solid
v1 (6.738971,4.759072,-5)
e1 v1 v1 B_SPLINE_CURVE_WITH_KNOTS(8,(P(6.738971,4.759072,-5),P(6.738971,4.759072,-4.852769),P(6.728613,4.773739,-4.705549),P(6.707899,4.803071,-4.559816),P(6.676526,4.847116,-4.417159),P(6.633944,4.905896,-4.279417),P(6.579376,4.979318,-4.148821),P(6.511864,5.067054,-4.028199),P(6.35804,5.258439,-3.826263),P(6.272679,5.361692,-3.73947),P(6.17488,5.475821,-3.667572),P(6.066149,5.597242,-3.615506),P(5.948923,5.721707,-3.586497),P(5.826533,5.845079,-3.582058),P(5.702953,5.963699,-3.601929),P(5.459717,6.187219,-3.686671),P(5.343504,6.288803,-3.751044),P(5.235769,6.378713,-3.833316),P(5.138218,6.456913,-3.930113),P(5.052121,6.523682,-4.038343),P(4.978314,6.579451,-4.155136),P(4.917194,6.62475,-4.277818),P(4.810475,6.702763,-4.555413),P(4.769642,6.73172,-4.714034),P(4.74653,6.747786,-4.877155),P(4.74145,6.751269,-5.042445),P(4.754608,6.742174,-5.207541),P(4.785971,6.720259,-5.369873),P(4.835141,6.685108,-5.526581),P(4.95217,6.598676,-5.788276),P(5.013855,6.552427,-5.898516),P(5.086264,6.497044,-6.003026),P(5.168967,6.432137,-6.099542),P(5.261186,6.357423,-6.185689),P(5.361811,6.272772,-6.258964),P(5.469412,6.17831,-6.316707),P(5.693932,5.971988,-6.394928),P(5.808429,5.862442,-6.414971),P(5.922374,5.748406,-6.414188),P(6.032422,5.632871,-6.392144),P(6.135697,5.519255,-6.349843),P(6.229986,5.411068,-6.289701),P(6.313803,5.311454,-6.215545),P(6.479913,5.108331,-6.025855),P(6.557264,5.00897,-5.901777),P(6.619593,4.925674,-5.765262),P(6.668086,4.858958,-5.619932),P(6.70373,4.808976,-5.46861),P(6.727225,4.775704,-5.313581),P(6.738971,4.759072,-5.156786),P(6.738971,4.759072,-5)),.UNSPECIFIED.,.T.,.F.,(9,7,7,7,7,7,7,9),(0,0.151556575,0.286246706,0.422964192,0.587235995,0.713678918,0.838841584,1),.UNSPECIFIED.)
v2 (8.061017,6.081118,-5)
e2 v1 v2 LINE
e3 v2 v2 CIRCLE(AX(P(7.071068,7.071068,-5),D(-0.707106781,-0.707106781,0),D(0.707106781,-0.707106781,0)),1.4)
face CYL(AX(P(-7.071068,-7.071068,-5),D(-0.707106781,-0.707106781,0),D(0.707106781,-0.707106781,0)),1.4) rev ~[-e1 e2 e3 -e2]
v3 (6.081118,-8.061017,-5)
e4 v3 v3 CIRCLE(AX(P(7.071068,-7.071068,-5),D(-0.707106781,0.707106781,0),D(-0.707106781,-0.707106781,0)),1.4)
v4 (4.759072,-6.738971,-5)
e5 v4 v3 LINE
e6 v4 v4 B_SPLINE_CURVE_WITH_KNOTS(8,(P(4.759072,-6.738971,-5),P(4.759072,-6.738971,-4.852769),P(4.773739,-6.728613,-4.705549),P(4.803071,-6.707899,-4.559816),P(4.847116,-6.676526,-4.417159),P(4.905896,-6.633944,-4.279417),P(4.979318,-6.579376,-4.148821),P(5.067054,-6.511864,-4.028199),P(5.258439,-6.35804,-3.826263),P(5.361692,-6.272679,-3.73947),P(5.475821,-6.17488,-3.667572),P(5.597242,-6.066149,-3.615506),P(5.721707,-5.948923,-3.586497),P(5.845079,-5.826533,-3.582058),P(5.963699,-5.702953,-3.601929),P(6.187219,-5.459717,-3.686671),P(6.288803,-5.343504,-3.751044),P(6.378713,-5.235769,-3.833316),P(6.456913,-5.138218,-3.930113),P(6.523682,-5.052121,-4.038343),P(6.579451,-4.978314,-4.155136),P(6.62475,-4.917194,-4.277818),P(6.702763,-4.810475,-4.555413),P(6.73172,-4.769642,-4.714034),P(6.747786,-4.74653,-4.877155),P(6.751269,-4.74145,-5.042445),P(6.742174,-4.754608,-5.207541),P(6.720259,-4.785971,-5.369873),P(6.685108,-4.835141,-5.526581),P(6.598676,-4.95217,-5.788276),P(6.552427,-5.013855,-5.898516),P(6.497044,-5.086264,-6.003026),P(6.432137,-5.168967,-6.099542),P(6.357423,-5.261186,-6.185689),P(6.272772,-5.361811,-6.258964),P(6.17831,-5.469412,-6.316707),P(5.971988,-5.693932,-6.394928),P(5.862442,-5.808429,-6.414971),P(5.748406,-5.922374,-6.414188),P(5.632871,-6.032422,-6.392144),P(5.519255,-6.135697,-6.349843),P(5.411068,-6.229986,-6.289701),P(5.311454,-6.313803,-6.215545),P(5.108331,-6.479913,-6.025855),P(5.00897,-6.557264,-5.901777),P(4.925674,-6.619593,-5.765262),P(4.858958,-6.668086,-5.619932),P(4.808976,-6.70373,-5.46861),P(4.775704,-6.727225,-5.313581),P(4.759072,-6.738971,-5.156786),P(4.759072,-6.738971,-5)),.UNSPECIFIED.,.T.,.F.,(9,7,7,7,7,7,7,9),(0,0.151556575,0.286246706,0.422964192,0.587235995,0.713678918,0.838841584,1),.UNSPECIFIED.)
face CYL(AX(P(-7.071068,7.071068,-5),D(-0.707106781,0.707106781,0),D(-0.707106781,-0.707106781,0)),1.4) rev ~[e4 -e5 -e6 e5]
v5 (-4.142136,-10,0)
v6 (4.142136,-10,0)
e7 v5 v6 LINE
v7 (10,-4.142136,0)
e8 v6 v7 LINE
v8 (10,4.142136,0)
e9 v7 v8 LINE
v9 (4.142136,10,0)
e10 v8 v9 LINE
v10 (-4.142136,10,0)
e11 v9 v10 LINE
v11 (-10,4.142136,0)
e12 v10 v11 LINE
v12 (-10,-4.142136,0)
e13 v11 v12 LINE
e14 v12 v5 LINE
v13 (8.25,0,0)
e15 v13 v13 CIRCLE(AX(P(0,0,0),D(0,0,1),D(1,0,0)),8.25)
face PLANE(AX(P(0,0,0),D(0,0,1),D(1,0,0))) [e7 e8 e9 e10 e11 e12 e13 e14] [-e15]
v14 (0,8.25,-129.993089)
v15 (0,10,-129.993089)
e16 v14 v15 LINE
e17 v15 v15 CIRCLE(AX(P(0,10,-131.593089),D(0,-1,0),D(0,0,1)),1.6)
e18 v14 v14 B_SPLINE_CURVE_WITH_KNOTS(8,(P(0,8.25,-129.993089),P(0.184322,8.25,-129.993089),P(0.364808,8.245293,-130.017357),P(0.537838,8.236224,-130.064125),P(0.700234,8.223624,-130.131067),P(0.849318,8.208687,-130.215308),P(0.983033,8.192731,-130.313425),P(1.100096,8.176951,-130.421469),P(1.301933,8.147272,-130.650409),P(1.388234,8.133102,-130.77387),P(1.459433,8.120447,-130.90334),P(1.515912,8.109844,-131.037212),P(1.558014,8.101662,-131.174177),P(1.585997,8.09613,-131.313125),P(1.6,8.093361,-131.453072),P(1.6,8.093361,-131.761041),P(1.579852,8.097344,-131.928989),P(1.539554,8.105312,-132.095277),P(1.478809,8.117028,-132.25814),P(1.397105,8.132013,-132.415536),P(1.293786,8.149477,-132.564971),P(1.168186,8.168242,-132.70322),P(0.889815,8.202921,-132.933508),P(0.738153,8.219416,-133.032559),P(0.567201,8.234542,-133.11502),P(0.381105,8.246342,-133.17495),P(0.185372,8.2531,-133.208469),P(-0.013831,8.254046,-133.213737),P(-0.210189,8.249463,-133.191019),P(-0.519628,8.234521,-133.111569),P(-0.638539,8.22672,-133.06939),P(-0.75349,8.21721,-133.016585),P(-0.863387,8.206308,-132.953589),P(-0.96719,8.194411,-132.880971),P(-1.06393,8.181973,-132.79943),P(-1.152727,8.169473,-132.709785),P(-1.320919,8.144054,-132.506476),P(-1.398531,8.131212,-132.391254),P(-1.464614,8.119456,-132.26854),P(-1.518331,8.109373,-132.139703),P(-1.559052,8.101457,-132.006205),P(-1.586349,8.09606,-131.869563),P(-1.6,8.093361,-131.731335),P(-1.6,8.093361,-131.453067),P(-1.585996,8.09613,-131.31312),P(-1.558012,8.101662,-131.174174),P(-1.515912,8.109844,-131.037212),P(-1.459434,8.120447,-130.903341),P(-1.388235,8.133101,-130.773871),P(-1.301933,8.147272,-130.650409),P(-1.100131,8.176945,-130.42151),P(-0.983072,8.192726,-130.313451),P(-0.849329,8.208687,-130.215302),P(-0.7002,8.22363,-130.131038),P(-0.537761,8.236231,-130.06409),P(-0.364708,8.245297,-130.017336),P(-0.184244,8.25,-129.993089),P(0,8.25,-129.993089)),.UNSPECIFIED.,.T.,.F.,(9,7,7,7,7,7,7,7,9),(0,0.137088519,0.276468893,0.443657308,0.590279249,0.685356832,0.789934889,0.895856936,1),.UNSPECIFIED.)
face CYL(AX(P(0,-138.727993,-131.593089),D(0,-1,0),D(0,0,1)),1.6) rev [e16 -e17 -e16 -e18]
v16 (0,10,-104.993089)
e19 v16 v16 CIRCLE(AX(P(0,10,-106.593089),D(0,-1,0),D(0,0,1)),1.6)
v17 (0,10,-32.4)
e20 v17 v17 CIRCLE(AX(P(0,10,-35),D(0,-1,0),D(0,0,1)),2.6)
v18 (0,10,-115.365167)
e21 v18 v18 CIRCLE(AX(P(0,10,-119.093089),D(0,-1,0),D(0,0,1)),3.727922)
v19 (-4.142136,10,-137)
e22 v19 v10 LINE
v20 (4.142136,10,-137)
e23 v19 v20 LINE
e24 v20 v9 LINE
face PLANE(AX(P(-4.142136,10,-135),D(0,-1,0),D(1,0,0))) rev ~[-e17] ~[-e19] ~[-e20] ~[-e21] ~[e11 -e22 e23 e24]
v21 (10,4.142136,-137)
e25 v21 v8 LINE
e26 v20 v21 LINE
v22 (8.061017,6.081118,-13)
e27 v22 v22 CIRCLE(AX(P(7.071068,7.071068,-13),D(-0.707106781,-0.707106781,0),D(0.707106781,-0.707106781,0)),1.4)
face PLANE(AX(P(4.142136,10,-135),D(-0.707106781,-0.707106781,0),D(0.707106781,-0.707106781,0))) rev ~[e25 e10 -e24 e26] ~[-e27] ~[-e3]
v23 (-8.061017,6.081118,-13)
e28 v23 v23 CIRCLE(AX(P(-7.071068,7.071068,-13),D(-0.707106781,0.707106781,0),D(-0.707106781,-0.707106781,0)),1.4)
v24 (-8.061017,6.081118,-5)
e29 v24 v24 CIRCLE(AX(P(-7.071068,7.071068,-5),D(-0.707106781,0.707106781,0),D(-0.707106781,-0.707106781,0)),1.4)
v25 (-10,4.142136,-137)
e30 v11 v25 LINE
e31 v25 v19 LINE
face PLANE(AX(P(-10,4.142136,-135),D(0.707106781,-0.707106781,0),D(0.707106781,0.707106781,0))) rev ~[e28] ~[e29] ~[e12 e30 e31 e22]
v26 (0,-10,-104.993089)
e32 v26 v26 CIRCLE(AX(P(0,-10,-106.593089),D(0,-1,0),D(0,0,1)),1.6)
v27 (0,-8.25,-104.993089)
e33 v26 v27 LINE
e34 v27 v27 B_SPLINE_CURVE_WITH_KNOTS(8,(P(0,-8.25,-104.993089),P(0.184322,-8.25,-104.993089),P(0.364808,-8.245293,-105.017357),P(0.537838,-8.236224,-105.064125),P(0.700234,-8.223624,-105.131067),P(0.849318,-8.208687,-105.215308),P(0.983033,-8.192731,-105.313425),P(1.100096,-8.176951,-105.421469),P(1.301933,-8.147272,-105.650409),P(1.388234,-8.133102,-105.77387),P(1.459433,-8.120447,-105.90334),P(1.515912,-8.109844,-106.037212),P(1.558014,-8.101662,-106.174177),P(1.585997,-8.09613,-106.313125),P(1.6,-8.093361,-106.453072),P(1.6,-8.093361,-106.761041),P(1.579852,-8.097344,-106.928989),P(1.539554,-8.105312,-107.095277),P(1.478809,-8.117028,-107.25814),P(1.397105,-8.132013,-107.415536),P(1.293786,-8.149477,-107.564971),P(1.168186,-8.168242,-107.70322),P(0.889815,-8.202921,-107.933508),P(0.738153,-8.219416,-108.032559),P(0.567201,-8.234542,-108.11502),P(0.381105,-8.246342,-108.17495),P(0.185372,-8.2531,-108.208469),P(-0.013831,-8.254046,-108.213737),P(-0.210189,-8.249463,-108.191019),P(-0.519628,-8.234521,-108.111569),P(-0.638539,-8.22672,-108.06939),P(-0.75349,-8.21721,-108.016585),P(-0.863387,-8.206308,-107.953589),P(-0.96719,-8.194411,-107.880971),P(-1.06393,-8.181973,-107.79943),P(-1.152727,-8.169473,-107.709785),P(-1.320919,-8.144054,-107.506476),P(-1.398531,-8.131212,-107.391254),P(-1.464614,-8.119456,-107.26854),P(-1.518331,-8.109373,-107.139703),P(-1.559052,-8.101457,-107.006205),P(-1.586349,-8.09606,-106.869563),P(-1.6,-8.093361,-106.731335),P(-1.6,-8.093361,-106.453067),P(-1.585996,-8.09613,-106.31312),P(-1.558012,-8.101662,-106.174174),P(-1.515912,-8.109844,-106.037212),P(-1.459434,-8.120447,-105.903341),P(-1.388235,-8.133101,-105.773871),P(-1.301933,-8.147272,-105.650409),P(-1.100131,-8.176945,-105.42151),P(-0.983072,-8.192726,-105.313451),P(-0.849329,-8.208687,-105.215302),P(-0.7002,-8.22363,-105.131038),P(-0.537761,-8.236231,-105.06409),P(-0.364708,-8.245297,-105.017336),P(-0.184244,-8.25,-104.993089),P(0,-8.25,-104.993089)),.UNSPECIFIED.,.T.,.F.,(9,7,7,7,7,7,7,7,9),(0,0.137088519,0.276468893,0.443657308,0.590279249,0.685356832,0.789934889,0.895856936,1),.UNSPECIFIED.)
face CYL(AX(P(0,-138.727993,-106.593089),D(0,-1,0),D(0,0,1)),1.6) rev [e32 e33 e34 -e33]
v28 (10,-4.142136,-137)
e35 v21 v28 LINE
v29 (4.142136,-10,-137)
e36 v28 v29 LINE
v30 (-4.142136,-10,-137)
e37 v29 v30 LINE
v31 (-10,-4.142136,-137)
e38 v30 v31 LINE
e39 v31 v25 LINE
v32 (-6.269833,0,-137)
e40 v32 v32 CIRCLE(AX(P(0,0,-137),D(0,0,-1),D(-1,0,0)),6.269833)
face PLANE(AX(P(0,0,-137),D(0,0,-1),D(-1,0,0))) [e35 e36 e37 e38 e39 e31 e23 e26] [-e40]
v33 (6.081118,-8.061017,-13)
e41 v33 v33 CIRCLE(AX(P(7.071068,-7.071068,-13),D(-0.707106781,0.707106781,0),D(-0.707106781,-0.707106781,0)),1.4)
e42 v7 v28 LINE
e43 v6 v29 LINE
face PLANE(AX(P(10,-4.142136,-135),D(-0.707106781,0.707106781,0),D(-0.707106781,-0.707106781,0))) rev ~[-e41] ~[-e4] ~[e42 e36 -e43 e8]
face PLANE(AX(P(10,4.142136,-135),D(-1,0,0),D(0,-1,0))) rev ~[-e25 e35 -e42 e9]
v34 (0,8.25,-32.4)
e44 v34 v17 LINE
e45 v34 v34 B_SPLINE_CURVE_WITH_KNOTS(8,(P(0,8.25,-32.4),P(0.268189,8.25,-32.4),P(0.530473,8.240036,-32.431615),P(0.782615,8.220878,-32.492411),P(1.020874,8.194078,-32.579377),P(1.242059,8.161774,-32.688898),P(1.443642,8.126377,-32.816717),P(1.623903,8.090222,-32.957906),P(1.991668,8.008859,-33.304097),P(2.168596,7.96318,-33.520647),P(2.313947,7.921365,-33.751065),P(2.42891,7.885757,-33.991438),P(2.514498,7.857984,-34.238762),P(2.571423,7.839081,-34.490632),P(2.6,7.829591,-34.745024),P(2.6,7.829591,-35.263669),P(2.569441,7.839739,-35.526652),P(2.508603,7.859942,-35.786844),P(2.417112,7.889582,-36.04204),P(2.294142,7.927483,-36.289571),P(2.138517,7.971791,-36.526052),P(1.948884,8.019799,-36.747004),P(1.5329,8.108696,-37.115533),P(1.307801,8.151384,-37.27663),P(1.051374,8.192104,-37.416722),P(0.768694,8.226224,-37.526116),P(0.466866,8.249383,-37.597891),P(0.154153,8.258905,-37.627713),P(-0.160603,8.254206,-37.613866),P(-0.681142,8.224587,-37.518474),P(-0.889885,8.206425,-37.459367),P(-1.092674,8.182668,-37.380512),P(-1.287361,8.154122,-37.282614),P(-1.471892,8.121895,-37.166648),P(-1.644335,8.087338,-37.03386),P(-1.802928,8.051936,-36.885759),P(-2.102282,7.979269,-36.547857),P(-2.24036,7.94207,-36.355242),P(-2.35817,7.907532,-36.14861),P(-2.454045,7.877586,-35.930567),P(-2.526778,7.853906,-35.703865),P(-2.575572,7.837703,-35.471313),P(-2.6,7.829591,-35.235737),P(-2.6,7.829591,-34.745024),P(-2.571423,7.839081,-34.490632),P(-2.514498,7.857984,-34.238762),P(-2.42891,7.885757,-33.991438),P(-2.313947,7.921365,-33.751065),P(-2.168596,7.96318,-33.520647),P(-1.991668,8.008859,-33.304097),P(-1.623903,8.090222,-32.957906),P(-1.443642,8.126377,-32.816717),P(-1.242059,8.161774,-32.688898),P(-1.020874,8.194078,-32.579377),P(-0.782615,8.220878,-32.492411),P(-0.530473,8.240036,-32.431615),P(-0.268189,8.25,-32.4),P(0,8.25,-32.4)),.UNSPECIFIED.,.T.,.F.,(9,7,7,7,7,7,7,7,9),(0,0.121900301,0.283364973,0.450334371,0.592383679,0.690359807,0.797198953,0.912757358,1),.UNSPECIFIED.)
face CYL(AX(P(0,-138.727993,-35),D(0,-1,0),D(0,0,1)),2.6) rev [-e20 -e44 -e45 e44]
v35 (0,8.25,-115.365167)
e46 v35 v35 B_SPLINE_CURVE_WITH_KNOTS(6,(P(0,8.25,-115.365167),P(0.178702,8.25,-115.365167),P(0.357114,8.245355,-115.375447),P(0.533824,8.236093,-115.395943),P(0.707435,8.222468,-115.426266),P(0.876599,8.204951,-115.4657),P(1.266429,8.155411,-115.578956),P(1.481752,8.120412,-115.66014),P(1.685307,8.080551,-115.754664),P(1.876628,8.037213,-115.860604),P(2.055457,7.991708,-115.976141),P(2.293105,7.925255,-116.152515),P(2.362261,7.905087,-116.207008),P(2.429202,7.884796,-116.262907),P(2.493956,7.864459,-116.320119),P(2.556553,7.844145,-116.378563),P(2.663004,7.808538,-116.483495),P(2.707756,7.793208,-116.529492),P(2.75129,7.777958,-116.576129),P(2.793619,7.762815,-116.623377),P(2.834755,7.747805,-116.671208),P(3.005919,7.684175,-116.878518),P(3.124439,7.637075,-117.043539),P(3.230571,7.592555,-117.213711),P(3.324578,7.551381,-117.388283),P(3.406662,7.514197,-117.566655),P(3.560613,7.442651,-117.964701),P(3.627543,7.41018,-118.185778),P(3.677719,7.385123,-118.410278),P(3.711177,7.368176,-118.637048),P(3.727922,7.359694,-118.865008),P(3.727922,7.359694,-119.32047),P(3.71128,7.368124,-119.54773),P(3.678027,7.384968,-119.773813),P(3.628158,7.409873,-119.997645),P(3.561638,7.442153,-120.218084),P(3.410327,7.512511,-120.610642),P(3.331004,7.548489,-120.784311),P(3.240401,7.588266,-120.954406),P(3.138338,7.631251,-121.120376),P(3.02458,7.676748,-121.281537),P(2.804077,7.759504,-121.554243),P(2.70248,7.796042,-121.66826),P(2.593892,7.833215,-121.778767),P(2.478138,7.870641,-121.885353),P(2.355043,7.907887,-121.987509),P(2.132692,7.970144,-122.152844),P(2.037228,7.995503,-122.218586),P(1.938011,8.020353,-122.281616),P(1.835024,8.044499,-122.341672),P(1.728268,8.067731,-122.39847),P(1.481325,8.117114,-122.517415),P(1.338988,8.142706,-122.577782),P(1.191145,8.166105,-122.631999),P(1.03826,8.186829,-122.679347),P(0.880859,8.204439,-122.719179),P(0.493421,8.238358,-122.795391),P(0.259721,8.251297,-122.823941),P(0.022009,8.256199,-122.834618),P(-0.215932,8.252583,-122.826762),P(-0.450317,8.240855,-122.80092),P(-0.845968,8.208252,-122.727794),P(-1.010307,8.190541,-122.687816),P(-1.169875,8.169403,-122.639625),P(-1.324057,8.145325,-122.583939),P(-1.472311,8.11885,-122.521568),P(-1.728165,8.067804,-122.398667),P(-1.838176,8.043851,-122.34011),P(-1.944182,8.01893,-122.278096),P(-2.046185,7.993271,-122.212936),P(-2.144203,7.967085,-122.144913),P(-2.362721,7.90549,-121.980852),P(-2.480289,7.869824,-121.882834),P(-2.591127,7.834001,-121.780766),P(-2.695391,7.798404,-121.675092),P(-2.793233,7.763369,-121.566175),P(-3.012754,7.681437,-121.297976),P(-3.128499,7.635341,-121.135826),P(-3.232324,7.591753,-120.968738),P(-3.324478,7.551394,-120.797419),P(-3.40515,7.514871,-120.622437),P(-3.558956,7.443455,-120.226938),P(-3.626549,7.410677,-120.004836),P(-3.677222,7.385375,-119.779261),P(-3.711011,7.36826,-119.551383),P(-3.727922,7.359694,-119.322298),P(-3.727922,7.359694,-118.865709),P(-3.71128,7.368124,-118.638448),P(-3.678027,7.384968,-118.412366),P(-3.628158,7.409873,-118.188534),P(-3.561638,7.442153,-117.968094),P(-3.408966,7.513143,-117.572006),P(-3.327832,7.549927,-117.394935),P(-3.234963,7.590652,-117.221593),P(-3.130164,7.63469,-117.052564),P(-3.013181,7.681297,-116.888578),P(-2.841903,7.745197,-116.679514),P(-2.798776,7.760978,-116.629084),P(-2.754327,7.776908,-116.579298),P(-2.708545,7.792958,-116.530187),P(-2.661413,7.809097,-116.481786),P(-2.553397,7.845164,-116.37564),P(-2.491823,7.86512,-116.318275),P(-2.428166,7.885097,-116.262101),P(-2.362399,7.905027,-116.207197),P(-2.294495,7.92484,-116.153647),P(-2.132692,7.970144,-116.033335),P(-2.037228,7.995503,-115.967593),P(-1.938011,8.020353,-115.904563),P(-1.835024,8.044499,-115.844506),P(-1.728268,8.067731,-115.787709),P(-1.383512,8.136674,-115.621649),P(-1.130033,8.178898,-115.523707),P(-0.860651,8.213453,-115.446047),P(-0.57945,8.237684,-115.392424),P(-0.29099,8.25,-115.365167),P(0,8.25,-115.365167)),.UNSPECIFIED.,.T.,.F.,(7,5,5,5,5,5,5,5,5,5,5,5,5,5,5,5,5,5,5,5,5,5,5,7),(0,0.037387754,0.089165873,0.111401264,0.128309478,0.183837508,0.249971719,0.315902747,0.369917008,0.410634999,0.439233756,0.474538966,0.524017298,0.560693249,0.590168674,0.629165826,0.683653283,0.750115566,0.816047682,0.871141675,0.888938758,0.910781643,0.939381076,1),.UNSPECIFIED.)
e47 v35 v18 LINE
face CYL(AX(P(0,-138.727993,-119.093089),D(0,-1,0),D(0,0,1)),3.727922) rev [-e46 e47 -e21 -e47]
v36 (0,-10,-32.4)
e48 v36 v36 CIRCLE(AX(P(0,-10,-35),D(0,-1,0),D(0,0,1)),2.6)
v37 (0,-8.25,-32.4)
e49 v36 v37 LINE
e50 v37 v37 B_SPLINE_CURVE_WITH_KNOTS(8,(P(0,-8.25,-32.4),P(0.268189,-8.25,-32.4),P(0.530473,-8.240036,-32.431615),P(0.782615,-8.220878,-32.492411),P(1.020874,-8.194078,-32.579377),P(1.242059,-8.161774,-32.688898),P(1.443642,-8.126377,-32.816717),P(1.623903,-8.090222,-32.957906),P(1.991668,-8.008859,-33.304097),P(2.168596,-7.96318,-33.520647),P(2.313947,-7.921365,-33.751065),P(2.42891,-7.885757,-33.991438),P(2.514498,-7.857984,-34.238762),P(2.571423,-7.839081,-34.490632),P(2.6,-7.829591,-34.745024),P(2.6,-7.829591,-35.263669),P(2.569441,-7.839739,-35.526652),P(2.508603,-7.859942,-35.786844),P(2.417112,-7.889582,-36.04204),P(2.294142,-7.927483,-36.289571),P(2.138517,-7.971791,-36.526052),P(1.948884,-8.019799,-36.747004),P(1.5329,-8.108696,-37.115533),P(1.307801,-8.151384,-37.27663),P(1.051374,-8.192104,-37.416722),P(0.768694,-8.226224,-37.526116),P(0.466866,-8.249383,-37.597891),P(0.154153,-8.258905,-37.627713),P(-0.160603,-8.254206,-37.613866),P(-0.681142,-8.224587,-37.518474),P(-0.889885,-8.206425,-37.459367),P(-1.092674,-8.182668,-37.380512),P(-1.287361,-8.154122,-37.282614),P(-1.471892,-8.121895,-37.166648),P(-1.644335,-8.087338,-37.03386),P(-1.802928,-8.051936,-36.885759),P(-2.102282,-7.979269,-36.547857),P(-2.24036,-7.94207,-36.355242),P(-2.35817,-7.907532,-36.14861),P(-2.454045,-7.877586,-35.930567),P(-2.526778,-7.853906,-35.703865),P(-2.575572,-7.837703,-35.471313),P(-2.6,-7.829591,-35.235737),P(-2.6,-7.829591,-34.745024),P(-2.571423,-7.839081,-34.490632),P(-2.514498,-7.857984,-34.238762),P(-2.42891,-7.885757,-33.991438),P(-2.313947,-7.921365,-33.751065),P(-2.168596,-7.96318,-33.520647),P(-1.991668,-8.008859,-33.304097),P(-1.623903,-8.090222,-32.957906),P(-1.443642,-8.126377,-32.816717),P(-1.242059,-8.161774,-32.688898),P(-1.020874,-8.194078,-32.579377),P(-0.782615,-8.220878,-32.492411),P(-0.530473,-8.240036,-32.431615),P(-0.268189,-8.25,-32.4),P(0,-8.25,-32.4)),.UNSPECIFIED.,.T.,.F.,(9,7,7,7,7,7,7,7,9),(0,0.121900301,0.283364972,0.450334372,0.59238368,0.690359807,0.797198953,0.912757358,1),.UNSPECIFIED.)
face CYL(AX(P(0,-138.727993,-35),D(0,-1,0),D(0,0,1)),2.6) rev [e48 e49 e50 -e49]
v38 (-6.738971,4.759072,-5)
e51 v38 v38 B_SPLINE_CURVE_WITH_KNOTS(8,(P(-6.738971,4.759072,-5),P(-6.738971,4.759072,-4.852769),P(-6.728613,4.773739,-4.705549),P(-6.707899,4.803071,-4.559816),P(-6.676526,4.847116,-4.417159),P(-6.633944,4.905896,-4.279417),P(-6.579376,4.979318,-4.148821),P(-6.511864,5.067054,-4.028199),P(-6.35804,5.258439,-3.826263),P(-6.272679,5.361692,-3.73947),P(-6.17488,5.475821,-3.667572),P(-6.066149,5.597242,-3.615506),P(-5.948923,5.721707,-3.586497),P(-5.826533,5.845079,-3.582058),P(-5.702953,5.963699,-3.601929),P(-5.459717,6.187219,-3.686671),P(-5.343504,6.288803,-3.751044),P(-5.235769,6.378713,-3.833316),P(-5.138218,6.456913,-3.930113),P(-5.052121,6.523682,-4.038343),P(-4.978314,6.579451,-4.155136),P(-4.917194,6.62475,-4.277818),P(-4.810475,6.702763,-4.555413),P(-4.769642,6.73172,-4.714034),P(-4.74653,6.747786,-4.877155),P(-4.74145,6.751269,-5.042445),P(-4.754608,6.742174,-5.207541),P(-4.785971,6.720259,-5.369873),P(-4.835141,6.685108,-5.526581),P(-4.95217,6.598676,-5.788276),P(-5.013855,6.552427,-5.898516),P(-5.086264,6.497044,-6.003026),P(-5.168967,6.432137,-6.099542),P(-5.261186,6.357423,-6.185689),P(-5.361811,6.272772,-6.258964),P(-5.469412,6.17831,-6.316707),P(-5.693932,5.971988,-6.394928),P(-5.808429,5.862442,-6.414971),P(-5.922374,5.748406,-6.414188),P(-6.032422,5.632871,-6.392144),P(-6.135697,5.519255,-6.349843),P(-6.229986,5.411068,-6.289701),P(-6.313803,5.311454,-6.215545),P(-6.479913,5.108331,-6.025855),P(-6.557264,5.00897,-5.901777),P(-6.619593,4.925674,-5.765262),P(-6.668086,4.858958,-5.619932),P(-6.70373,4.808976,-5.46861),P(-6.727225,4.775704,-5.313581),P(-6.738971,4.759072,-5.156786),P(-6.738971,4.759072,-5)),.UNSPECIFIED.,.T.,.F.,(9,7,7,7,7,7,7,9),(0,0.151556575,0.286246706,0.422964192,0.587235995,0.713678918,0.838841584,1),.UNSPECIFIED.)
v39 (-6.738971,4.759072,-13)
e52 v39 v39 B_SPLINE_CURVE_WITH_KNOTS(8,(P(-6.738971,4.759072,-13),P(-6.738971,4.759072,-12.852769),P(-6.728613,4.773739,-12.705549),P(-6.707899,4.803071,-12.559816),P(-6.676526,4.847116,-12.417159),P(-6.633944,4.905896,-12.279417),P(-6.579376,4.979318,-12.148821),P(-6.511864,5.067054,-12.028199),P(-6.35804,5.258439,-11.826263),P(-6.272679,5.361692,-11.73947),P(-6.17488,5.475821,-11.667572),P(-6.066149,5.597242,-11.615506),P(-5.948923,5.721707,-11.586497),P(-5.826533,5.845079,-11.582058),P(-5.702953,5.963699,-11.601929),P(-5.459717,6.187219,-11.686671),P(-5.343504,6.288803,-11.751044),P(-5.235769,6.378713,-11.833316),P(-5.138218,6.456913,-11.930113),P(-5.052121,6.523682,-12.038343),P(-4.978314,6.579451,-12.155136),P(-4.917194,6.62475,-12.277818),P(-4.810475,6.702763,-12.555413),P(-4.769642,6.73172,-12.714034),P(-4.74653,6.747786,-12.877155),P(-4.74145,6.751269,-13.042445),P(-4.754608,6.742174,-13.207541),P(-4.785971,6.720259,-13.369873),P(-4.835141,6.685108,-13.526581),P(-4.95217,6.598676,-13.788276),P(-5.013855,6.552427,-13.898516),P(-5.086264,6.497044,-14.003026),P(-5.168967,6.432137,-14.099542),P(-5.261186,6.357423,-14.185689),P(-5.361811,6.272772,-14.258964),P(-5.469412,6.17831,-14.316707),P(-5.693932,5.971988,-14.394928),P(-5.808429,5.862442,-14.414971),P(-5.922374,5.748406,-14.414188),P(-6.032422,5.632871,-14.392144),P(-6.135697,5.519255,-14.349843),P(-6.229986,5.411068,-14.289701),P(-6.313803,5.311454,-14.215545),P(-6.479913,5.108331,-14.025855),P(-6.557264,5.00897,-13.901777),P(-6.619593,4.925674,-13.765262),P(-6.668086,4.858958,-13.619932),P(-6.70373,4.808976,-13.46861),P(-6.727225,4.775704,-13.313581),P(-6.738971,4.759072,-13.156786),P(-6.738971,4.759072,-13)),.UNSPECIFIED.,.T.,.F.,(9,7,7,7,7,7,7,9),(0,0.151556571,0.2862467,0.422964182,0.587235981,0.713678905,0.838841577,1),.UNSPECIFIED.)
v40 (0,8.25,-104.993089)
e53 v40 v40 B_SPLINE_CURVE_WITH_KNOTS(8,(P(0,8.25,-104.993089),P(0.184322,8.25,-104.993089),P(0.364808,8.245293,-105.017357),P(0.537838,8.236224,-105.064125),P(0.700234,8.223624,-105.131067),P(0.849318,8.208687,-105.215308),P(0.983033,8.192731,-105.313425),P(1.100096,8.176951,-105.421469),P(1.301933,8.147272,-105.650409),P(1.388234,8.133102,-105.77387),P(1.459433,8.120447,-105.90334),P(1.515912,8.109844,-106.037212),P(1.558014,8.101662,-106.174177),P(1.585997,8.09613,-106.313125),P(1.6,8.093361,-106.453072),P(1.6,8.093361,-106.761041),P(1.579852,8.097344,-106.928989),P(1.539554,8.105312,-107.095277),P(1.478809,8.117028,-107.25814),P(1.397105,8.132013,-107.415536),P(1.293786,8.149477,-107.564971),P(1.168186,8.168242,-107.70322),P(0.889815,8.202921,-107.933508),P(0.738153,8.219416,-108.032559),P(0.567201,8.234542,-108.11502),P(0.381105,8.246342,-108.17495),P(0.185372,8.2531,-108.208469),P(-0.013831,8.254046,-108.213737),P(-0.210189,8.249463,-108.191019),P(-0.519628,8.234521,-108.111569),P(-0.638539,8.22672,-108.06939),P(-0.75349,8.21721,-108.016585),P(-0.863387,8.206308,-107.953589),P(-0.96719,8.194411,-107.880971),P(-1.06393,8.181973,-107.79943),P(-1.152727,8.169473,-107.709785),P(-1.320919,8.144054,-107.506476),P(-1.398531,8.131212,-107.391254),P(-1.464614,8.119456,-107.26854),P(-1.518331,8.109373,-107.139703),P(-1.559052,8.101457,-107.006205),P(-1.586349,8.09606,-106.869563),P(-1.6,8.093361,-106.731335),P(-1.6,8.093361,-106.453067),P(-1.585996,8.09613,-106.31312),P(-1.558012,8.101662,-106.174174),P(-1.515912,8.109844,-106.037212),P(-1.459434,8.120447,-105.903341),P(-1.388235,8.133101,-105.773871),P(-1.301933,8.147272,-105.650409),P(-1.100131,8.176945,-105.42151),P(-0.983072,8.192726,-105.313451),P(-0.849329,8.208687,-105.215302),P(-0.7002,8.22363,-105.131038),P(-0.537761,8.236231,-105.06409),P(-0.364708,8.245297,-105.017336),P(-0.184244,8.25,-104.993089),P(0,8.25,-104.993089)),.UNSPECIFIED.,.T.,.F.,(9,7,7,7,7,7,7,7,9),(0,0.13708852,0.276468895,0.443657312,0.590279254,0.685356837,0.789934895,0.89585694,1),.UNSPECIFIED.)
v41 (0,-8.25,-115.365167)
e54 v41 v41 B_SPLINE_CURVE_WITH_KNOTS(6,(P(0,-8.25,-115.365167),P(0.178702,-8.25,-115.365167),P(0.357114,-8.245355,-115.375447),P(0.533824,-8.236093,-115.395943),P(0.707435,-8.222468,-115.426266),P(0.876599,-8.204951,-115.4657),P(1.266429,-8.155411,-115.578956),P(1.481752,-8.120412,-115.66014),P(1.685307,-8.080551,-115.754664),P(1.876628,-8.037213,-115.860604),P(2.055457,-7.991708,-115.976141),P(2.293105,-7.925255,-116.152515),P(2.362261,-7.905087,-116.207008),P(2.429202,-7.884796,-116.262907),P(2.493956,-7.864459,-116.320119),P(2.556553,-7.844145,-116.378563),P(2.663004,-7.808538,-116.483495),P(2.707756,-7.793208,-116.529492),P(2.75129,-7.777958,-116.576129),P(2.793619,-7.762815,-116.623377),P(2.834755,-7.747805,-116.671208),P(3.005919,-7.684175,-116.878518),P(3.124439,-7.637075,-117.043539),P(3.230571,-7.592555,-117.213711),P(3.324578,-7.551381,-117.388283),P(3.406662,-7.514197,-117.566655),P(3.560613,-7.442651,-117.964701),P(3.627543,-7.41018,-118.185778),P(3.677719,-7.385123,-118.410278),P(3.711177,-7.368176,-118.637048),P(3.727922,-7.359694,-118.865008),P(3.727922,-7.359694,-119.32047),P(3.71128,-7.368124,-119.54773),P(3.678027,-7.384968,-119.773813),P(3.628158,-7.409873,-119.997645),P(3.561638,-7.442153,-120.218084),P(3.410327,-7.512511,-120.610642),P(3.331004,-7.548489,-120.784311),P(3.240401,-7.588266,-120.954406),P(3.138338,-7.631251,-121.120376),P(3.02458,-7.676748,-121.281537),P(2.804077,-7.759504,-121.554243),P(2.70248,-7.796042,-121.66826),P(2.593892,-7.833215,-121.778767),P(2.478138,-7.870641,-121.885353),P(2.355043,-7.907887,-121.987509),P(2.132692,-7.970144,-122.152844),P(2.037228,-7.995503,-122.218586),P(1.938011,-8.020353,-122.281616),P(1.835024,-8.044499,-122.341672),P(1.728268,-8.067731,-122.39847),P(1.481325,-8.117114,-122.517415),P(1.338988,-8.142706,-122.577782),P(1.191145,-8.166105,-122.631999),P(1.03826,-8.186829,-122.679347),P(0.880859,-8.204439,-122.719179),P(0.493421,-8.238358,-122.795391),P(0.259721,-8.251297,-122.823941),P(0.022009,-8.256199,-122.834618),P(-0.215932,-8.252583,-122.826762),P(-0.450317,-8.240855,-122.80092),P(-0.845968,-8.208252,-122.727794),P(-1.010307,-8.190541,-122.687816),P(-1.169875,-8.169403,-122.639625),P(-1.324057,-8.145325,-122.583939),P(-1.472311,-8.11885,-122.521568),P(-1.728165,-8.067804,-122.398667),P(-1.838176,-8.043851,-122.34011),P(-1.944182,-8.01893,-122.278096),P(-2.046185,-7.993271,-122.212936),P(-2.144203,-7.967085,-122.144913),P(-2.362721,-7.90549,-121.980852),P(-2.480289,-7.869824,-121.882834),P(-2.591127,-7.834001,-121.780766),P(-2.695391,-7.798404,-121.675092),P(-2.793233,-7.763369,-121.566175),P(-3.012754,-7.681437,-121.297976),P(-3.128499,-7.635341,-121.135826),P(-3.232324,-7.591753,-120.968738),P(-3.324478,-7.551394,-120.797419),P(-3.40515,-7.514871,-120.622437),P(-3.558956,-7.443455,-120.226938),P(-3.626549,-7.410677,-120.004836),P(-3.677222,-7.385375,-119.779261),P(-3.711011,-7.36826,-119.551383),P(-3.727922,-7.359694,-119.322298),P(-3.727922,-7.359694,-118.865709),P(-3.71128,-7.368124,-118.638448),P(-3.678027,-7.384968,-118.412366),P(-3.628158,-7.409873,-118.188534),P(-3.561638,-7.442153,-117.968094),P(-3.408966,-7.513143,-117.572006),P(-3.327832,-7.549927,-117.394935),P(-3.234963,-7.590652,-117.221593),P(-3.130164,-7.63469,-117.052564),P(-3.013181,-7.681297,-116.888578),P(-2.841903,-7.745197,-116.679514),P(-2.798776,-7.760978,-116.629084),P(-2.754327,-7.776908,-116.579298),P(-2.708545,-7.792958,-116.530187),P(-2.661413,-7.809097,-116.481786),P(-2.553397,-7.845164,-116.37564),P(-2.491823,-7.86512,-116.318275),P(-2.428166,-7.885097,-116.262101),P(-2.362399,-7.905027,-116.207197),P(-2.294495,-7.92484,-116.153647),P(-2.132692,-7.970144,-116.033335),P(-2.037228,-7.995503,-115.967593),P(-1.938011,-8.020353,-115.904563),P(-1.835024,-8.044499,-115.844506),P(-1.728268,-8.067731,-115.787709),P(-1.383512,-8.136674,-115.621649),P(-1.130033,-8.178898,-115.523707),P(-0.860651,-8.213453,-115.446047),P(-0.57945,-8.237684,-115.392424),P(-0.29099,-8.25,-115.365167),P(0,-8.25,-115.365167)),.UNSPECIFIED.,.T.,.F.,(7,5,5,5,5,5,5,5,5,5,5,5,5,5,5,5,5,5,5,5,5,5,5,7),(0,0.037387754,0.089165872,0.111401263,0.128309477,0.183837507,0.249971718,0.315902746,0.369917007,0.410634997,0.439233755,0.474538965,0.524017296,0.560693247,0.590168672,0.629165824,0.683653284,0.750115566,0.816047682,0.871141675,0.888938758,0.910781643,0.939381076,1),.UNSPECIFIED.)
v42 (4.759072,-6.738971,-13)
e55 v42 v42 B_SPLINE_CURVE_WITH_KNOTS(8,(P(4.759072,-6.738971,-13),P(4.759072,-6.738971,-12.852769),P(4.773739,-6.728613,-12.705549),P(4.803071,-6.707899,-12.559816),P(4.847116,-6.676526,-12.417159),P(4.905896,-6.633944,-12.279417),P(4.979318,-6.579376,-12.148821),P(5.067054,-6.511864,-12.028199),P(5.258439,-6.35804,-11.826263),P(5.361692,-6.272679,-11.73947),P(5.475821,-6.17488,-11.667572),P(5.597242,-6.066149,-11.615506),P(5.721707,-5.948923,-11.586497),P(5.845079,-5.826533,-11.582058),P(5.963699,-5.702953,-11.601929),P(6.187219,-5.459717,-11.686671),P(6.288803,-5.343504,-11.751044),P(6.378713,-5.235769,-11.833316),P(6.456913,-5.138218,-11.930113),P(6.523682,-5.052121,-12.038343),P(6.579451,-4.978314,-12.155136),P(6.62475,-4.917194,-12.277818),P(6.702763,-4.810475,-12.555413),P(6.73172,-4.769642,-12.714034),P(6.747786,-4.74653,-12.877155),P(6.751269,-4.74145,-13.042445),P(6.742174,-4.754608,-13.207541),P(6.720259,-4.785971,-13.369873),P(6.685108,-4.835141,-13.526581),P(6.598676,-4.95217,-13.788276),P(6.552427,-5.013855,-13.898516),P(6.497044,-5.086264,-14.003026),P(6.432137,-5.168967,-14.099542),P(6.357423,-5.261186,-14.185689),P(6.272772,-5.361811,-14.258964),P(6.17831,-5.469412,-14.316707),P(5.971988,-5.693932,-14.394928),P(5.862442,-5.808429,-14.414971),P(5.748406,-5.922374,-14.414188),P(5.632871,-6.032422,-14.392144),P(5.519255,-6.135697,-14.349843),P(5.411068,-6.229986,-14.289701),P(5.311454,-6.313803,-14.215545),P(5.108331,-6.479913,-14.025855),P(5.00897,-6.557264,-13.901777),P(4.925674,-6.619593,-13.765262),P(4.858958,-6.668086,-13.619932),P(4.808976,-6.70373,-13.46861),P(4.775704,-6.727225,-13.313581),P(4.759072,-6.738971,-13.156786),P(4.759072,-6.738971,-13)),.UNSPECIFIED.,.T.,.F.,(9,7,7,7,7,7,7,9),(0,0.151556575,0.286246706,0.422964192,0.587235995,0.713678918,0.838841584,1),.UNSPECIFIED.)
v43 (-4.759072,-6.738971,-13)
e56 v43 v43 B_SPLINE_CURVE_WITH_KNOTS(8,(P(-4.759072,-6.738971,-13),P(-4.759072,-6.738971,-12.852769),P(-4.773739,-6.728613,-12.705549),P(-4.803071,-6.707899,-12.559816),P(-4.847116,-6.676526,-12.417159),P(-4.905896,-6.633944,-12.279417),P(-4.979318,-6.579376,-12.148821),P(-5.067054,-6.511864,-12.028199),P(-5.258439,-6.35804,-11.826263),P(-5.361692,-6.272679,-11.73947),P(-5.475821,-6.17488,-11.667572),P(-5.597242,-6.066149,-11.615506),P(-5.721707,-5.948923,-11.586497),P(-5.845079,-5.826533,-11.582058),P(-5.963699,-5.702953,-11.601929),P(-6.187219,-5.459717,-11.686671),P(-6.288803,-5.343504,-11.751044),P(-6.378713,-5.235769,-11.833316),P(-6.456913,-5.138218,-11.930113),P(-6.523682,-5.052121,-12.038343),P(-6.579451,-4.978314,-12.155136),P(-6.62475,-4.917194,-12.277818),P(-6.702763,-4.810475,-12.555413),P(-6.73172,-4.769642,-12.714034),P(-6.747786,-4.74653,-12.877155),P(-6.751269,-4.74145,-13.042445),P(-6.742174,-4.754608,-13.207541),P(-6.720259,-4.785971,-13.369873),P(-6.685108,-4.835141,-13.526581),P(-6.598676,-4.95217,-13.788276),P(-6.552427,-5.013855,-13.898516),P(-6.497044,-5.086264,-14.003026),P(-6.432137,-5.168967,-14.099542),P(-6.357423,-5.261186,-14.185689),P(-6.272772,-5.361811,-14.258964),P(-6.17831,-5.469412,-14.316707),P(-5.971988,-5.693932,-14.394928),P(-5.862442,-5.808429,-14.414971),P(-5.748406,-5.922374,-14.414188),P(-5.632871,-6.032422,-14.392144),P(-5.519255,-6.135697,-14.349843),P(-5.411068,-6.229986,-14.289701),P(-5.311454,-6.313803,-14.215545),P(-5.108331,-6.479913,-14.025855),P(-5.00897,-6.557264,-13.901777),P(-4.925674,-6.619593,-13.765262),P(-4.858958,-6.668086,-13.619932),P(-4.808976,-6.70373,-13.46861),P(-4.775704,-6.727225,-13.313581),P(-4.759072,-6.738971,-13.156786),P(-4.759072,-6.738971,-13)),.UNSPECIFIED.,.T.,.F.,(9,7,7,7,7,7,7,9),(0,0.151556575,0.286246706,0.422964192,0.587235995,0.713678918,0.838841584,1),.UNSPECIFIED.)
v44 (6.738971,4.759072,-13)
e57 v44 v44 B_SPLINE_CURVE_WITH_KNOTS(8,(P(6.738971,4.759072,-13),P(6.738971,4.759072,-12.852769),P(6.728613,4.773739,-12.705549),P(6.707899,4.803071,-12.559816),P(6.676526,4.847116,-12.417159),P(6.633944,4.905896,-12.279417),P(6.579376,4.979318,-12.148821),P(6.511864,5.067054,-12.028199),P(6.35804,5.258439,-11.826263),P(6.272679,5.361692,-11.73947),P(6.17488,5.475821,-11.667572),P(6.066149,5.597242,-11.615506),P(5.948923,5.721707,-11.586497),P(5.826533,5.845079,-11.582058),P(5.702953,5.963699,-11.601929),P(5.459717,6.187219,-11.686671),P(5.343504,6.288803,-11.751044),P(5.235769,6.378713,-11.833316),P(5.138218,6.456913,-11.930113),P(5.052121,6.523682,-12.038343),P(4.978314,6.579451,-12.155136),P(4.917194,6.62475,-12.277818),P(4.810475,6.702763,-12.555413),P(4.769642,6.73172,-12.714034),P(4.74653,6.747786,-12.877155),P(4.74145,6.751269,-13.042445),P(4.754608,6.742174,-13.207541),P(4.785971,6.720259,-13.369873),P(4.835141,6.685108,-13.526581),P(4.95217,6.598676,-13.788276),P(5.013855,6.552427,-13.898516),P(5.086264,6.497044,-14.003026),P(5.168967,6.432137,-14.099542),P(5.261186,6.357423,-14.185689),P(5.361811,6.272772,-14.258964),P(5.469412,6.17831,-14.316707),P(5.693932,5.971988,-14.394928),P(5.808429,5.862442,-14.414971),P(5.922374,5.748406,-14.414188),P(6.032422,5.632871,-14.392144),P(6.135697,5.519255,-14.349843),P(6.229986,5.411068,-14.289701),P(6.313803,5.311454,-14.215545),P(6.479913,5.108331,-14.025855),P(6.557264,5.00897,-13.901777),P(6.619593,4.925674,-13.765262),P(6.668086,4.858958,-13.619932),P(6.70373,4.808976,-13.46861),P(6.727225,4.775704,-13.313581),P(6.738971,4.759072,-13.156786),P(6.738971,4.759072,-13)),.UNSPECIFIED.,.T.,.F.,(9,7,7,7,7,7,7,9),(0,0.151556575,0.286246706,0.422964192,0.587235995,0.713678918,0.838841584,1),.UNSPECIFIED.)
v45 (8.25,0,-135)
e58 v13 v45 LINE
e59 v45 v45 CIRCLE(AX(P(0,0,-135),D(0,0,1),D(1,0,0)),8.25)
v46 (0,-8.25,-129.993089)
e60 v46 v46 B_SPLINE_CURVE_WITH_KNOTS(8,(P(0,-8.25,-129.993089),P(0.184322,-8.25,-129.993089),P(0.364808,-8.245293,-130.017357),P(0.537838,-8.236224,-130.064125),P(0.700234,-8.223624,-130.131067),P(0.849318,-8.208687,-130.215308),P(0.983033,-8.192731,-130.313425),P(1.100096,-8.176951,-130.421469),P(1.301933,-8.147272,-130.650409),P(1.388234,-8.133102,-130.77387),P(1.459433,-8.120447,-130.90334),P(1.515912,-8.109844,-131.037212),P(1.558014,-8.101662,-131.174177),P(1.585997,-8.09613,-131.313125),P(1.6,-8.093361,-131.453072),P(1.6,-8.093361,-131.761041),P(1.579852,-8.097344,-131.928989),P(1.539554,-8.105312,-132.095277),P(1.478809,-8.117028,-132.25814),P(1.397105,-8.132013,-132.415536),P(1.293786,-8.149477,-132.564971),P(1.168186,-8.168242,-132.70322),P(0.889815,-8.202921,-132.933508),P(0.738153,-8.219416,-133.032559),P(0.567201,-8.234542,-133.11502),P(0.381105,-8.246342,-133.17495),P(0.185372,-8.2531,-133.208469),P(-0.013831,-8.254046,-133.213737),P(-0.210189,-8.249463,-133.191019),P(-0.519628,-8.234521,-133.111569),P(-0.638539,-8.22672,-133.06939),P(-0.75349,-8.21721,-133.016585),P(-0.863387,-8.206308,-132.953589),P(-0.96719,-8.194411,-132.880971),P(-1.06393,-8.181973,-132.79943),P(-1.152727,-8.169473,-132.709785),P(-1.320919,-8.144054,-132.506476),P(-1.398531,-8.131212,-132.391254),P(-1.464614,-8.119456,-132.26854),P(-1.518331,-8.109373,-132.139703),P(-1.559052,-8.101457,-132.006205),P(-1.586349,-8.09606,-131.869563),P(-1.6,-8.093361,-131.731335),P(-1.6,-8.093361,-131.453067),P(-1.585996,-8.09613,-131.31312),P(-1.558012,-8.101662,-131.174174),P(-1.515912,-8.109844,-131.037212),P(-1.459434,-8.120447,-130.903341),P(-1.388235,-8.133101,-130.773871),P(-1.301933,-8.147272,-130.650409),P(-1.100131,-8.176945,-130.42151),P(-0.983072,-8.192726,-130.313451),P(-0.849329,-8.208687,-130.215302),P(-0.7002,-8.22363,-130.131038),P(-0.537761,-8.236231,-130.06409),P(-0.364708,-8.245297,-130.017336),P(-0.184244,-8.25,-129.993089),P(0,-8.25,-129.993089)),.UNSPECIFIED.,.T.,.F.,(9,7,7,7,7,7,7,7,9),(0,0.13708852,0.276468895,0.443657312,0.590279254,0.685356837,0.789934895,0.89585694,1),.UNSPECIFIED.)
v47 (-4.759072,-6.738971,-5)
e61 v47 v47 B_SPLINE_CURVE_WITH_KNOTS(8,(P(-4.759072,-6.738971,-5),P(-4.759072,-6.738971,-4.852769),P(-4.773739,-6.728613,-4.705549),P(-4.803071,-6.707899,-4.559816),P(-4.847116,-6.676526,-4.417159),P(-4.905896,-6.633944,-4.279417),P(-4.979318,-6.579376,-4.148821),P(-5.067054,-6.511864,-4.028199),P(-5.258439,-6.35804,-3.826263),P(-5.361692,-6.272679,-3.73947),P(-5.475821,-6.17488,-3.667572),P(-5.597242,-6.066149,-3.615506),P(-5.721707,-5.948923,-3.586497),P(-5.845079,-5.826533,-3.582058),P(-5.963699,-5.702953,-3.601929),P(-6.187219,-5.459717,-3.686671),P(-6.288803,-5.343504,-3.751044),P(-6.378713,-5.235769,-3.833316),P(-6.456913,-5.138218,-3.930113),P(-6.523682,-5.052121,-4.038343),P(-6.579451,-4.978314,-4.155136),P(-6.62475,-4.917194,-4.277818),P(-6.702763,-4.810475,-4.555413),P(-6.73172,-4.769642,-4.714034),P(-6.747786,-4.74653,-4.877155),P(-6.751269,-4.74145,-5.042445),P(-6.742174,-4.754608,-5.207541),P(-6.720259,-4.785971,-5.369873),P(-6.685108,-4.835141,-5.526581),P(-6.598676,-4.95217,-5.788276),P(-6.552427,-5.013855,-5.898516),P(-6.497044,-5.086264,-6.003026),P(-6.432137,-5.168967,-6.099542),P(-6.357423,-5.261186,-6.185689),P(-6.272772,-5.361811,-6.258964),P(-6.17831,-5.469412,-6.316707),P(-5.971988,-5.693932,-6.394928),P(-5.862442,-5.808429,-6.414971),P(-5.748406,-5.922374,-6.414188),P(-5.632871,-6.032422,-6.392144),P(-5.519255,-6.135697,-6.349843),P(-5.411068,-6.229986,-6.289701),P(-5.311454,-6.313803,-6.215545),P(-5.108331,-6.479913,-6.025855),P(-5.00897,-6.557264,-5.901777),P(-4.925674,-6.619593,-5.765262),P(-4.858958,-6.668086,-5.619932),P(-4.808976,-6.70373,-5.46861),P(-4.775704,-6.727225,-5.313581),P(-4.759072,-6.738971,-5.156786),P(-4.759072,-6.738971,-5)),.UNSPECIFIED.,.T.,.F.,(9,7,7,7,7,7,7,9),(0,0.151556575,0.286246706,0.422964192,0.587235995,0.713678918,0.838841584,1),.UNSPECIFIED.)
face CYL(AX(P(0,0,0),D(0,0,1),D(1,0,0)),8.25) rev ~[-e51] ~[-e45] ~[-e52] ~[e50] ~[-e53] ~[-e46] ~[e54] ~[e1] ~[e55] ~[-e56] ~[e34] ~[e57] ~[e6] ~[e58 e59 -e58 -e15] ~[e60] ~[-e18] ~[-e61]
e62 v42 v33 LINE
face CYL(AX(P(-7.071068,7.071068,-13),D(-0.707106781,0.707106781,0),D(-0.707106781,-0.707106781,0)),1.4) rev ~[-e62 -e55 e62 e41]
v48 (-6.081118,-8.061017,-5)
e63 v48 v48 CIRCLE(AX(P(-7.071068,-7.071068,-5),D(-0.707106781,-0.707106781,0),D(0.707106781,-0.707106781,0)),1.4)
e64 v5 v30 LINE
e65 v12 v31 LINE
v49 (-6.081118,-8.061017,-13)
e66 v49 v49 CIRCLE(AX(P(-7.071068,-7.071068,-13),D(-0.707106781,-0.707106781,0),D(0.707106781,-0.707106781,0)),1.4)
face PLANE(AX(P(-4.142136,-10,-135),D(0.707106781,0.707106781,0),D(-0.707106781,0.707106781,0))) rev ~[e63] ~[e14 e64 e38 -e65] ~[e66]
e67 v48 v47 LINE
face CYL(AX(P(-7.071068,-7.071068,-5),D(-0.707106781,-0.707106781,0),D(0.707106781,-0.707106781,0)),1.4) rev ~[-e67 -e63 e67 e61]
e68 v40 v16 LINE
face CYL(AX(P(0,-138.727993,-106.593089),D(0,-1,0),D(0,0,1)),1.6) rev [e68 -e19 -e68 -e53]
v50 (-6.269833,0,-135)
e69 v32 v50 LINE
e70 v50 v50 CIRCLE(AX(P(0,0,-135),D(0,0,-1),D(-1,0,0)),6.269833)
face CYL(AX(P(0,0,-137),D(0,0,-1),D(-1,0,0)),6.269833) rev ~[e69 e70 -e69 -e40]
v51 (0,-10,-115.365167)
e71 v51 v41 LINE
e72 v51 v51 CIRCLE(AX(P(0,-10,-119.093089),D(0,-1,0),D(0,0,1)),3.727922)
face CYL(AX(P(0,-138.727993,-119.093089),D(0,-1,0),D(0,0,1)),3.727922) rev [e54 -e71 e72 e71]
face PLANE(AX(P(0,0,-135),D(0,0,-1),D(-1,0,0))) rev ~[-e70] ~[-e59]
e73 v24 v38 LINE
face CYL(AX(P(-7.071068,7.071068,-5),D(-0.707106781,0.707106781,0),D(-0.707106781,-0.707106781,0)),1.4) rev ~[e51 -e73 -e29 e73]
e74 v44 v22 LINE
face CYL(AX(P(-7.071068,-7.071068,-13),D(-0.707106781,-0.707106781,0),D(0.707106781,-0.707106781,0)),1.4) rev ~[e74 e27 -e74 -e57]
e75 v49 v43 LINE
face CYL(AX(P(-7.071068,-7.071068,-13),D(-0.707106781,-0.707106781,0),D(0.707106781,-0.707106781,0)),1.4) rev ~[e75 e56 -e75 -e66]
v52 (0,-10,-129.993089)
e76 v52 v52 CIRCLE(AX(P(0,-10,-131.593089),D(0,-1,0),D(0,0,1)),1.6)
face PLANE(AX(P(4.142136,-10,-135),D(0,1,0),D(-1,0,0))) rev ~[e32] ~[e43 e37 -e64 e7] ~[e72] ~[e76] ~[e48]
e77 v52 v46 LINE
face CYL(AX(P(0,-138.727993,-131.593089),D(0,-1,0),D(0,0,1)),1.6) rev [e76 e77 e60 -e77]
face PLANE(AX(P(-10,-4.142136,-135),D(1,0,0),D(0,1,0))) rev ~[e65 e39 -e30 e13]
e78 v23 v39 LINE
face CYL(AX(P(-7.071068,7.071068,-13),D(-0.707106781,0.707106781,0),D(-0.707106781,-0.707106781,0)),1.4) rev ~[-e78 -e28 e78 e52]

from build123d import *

# Parameters (mm, degrees)
SKETCH1_R               = 8.25
BOSS_EXTRUDE1_DEPTH     = 135
BOSS_EXTRUDE2_DEPTH     = 2
CUT_EXTRUDE1_DEPTH      = 138.727992797
CUT_EXTRUDE1_DEPTH_BACK = 138.727992797
SKETCH4_R               = 1.6
SKETCH4_R_2             = 2.6
SKETCH4_R_3             = 3.727922061
SKETCH6_R               = 1.4
CUT_EXTRUDE2_DEPTH      = 140.11090078
CIRPATTERN1_COUNT       = 2
CIRPATTERN1_ANGLE       = 270
SKETCH7_R               = 6.269832862
CUT_EXTRUDE3_DEPTH      = 138.727992904


with BuildPart() as part:
    # Sketch1 → Boss-Extrude1 (new body)
    with BuildSketch(Plane.XY):
        Polygon((10, 4.142135624), (4.142135624, 10), (-4.142135624, 10), (-10, 4.142135624), (-10, -4.142135624), (-4.142135624, -10), (4.142135624, -10), (10, -4.142135624), align=None)
        Circle(SKETCH1_R, mode=Mode.SUBTRACT)
    extrude(amount=-BOSS_EXTRUDE1_DEPTH)

    # Sketch2 → Boss-Extrude2 (add)
    with BuildSketch(Plane(origin=(0, 0, -135), x_dir=(-1, 0, 0), z_dir=(0, 0, -1))):
        Polygon((-10, 4.142135624), (-10, -4.142135624), (-4.142135624, -10), (4.142135624, -10), (10, -4.142135624), (10, 4.142135624), (4.142135624, 10), (-4.142135624, 10), align=None)
    extrude(amount=BOSS_EXTRUDE2_DEPTH)

    # Sketch4 → Cut-Extrude1 (cut, two sides: drawn at the far end of the back side and taken through both)
    with BuildSketch(Plane(origin=(0, 0, 0), x_dir=(1, 0, 0), z_dir=(0, 1, 0)).offset(-CUT_EXTRUDE1_DEPTH_BACK)):
        with Locations(Location((0, 131.593089119, 0), (0, 0, 270))):
            Circle(SKETCH4_R)
        with Locations(Location((0, 106.593089119, 0), (0, 0, 270))):
            Circle(SKETCH4_R)
        with Locations(Location((0, 35, 0), (0, 0, 270))):
            Circle(SKETCH4_R_2)
        with Locations(Location((0, 119.093089119, 0), (0, 0, 270))):
            Circle(SKETCH4_R_3)
    extrude(amount=CUT_EXTRUDE1_DEPTH + CUT_EXTRUDE1_DEPTH_BACK, mode=Mode.SUBTRACT)

    # Sketch6 → Cut-Extrude2 (cut, through all)
    with BuildSketch(Plane(origin=(-7.071067812, 7.071067812, 0), x_dir=(0, 0, 1), z_dir=(-0.7071067811865476, 0.7071067811865476, 0))):
        with Locations(Location((-13, 0, 0), (0, 0, 270))):
            Circle(SKETCH6_R)
        with Locations(Location((-5, 0, 0), (0, 0, 270))):
            Circle(SKETCH6_R)
    cut_extrude2 = extrude(amount=-CUT_EXTRUDE2_DEPTH, mode=Mode.SUBTRACT)

    # CirPattern1: Cut-Extrude2 ×2 about axis
    cirpattern1_axis = Axis((0, 0, 6.85), (0, 0, -1))
    for i in range(1, CIRPATTERN1_COUNT):
        add(cut_extrude2.rotate(cirpattern1_axis, i * CIRPATTERN1_ANGLE / (CIRPATTERN1_COUNT - 1)), mode=Mode.SUBTRACT)

    # Sketch7 → Cut-Extrude3 (cut, through all)
    with BuildSketch(Plane(origin=(0, 0, -137), x_dir=(-1, 0, 0), z_dir=(0, 0, -1))):
        Circle(SKETCH7_R)
    extrude(amount=-CUT_EXTRUDE3_DEPTH, mode=Mode.SUBTRACT)


solid = part.part
